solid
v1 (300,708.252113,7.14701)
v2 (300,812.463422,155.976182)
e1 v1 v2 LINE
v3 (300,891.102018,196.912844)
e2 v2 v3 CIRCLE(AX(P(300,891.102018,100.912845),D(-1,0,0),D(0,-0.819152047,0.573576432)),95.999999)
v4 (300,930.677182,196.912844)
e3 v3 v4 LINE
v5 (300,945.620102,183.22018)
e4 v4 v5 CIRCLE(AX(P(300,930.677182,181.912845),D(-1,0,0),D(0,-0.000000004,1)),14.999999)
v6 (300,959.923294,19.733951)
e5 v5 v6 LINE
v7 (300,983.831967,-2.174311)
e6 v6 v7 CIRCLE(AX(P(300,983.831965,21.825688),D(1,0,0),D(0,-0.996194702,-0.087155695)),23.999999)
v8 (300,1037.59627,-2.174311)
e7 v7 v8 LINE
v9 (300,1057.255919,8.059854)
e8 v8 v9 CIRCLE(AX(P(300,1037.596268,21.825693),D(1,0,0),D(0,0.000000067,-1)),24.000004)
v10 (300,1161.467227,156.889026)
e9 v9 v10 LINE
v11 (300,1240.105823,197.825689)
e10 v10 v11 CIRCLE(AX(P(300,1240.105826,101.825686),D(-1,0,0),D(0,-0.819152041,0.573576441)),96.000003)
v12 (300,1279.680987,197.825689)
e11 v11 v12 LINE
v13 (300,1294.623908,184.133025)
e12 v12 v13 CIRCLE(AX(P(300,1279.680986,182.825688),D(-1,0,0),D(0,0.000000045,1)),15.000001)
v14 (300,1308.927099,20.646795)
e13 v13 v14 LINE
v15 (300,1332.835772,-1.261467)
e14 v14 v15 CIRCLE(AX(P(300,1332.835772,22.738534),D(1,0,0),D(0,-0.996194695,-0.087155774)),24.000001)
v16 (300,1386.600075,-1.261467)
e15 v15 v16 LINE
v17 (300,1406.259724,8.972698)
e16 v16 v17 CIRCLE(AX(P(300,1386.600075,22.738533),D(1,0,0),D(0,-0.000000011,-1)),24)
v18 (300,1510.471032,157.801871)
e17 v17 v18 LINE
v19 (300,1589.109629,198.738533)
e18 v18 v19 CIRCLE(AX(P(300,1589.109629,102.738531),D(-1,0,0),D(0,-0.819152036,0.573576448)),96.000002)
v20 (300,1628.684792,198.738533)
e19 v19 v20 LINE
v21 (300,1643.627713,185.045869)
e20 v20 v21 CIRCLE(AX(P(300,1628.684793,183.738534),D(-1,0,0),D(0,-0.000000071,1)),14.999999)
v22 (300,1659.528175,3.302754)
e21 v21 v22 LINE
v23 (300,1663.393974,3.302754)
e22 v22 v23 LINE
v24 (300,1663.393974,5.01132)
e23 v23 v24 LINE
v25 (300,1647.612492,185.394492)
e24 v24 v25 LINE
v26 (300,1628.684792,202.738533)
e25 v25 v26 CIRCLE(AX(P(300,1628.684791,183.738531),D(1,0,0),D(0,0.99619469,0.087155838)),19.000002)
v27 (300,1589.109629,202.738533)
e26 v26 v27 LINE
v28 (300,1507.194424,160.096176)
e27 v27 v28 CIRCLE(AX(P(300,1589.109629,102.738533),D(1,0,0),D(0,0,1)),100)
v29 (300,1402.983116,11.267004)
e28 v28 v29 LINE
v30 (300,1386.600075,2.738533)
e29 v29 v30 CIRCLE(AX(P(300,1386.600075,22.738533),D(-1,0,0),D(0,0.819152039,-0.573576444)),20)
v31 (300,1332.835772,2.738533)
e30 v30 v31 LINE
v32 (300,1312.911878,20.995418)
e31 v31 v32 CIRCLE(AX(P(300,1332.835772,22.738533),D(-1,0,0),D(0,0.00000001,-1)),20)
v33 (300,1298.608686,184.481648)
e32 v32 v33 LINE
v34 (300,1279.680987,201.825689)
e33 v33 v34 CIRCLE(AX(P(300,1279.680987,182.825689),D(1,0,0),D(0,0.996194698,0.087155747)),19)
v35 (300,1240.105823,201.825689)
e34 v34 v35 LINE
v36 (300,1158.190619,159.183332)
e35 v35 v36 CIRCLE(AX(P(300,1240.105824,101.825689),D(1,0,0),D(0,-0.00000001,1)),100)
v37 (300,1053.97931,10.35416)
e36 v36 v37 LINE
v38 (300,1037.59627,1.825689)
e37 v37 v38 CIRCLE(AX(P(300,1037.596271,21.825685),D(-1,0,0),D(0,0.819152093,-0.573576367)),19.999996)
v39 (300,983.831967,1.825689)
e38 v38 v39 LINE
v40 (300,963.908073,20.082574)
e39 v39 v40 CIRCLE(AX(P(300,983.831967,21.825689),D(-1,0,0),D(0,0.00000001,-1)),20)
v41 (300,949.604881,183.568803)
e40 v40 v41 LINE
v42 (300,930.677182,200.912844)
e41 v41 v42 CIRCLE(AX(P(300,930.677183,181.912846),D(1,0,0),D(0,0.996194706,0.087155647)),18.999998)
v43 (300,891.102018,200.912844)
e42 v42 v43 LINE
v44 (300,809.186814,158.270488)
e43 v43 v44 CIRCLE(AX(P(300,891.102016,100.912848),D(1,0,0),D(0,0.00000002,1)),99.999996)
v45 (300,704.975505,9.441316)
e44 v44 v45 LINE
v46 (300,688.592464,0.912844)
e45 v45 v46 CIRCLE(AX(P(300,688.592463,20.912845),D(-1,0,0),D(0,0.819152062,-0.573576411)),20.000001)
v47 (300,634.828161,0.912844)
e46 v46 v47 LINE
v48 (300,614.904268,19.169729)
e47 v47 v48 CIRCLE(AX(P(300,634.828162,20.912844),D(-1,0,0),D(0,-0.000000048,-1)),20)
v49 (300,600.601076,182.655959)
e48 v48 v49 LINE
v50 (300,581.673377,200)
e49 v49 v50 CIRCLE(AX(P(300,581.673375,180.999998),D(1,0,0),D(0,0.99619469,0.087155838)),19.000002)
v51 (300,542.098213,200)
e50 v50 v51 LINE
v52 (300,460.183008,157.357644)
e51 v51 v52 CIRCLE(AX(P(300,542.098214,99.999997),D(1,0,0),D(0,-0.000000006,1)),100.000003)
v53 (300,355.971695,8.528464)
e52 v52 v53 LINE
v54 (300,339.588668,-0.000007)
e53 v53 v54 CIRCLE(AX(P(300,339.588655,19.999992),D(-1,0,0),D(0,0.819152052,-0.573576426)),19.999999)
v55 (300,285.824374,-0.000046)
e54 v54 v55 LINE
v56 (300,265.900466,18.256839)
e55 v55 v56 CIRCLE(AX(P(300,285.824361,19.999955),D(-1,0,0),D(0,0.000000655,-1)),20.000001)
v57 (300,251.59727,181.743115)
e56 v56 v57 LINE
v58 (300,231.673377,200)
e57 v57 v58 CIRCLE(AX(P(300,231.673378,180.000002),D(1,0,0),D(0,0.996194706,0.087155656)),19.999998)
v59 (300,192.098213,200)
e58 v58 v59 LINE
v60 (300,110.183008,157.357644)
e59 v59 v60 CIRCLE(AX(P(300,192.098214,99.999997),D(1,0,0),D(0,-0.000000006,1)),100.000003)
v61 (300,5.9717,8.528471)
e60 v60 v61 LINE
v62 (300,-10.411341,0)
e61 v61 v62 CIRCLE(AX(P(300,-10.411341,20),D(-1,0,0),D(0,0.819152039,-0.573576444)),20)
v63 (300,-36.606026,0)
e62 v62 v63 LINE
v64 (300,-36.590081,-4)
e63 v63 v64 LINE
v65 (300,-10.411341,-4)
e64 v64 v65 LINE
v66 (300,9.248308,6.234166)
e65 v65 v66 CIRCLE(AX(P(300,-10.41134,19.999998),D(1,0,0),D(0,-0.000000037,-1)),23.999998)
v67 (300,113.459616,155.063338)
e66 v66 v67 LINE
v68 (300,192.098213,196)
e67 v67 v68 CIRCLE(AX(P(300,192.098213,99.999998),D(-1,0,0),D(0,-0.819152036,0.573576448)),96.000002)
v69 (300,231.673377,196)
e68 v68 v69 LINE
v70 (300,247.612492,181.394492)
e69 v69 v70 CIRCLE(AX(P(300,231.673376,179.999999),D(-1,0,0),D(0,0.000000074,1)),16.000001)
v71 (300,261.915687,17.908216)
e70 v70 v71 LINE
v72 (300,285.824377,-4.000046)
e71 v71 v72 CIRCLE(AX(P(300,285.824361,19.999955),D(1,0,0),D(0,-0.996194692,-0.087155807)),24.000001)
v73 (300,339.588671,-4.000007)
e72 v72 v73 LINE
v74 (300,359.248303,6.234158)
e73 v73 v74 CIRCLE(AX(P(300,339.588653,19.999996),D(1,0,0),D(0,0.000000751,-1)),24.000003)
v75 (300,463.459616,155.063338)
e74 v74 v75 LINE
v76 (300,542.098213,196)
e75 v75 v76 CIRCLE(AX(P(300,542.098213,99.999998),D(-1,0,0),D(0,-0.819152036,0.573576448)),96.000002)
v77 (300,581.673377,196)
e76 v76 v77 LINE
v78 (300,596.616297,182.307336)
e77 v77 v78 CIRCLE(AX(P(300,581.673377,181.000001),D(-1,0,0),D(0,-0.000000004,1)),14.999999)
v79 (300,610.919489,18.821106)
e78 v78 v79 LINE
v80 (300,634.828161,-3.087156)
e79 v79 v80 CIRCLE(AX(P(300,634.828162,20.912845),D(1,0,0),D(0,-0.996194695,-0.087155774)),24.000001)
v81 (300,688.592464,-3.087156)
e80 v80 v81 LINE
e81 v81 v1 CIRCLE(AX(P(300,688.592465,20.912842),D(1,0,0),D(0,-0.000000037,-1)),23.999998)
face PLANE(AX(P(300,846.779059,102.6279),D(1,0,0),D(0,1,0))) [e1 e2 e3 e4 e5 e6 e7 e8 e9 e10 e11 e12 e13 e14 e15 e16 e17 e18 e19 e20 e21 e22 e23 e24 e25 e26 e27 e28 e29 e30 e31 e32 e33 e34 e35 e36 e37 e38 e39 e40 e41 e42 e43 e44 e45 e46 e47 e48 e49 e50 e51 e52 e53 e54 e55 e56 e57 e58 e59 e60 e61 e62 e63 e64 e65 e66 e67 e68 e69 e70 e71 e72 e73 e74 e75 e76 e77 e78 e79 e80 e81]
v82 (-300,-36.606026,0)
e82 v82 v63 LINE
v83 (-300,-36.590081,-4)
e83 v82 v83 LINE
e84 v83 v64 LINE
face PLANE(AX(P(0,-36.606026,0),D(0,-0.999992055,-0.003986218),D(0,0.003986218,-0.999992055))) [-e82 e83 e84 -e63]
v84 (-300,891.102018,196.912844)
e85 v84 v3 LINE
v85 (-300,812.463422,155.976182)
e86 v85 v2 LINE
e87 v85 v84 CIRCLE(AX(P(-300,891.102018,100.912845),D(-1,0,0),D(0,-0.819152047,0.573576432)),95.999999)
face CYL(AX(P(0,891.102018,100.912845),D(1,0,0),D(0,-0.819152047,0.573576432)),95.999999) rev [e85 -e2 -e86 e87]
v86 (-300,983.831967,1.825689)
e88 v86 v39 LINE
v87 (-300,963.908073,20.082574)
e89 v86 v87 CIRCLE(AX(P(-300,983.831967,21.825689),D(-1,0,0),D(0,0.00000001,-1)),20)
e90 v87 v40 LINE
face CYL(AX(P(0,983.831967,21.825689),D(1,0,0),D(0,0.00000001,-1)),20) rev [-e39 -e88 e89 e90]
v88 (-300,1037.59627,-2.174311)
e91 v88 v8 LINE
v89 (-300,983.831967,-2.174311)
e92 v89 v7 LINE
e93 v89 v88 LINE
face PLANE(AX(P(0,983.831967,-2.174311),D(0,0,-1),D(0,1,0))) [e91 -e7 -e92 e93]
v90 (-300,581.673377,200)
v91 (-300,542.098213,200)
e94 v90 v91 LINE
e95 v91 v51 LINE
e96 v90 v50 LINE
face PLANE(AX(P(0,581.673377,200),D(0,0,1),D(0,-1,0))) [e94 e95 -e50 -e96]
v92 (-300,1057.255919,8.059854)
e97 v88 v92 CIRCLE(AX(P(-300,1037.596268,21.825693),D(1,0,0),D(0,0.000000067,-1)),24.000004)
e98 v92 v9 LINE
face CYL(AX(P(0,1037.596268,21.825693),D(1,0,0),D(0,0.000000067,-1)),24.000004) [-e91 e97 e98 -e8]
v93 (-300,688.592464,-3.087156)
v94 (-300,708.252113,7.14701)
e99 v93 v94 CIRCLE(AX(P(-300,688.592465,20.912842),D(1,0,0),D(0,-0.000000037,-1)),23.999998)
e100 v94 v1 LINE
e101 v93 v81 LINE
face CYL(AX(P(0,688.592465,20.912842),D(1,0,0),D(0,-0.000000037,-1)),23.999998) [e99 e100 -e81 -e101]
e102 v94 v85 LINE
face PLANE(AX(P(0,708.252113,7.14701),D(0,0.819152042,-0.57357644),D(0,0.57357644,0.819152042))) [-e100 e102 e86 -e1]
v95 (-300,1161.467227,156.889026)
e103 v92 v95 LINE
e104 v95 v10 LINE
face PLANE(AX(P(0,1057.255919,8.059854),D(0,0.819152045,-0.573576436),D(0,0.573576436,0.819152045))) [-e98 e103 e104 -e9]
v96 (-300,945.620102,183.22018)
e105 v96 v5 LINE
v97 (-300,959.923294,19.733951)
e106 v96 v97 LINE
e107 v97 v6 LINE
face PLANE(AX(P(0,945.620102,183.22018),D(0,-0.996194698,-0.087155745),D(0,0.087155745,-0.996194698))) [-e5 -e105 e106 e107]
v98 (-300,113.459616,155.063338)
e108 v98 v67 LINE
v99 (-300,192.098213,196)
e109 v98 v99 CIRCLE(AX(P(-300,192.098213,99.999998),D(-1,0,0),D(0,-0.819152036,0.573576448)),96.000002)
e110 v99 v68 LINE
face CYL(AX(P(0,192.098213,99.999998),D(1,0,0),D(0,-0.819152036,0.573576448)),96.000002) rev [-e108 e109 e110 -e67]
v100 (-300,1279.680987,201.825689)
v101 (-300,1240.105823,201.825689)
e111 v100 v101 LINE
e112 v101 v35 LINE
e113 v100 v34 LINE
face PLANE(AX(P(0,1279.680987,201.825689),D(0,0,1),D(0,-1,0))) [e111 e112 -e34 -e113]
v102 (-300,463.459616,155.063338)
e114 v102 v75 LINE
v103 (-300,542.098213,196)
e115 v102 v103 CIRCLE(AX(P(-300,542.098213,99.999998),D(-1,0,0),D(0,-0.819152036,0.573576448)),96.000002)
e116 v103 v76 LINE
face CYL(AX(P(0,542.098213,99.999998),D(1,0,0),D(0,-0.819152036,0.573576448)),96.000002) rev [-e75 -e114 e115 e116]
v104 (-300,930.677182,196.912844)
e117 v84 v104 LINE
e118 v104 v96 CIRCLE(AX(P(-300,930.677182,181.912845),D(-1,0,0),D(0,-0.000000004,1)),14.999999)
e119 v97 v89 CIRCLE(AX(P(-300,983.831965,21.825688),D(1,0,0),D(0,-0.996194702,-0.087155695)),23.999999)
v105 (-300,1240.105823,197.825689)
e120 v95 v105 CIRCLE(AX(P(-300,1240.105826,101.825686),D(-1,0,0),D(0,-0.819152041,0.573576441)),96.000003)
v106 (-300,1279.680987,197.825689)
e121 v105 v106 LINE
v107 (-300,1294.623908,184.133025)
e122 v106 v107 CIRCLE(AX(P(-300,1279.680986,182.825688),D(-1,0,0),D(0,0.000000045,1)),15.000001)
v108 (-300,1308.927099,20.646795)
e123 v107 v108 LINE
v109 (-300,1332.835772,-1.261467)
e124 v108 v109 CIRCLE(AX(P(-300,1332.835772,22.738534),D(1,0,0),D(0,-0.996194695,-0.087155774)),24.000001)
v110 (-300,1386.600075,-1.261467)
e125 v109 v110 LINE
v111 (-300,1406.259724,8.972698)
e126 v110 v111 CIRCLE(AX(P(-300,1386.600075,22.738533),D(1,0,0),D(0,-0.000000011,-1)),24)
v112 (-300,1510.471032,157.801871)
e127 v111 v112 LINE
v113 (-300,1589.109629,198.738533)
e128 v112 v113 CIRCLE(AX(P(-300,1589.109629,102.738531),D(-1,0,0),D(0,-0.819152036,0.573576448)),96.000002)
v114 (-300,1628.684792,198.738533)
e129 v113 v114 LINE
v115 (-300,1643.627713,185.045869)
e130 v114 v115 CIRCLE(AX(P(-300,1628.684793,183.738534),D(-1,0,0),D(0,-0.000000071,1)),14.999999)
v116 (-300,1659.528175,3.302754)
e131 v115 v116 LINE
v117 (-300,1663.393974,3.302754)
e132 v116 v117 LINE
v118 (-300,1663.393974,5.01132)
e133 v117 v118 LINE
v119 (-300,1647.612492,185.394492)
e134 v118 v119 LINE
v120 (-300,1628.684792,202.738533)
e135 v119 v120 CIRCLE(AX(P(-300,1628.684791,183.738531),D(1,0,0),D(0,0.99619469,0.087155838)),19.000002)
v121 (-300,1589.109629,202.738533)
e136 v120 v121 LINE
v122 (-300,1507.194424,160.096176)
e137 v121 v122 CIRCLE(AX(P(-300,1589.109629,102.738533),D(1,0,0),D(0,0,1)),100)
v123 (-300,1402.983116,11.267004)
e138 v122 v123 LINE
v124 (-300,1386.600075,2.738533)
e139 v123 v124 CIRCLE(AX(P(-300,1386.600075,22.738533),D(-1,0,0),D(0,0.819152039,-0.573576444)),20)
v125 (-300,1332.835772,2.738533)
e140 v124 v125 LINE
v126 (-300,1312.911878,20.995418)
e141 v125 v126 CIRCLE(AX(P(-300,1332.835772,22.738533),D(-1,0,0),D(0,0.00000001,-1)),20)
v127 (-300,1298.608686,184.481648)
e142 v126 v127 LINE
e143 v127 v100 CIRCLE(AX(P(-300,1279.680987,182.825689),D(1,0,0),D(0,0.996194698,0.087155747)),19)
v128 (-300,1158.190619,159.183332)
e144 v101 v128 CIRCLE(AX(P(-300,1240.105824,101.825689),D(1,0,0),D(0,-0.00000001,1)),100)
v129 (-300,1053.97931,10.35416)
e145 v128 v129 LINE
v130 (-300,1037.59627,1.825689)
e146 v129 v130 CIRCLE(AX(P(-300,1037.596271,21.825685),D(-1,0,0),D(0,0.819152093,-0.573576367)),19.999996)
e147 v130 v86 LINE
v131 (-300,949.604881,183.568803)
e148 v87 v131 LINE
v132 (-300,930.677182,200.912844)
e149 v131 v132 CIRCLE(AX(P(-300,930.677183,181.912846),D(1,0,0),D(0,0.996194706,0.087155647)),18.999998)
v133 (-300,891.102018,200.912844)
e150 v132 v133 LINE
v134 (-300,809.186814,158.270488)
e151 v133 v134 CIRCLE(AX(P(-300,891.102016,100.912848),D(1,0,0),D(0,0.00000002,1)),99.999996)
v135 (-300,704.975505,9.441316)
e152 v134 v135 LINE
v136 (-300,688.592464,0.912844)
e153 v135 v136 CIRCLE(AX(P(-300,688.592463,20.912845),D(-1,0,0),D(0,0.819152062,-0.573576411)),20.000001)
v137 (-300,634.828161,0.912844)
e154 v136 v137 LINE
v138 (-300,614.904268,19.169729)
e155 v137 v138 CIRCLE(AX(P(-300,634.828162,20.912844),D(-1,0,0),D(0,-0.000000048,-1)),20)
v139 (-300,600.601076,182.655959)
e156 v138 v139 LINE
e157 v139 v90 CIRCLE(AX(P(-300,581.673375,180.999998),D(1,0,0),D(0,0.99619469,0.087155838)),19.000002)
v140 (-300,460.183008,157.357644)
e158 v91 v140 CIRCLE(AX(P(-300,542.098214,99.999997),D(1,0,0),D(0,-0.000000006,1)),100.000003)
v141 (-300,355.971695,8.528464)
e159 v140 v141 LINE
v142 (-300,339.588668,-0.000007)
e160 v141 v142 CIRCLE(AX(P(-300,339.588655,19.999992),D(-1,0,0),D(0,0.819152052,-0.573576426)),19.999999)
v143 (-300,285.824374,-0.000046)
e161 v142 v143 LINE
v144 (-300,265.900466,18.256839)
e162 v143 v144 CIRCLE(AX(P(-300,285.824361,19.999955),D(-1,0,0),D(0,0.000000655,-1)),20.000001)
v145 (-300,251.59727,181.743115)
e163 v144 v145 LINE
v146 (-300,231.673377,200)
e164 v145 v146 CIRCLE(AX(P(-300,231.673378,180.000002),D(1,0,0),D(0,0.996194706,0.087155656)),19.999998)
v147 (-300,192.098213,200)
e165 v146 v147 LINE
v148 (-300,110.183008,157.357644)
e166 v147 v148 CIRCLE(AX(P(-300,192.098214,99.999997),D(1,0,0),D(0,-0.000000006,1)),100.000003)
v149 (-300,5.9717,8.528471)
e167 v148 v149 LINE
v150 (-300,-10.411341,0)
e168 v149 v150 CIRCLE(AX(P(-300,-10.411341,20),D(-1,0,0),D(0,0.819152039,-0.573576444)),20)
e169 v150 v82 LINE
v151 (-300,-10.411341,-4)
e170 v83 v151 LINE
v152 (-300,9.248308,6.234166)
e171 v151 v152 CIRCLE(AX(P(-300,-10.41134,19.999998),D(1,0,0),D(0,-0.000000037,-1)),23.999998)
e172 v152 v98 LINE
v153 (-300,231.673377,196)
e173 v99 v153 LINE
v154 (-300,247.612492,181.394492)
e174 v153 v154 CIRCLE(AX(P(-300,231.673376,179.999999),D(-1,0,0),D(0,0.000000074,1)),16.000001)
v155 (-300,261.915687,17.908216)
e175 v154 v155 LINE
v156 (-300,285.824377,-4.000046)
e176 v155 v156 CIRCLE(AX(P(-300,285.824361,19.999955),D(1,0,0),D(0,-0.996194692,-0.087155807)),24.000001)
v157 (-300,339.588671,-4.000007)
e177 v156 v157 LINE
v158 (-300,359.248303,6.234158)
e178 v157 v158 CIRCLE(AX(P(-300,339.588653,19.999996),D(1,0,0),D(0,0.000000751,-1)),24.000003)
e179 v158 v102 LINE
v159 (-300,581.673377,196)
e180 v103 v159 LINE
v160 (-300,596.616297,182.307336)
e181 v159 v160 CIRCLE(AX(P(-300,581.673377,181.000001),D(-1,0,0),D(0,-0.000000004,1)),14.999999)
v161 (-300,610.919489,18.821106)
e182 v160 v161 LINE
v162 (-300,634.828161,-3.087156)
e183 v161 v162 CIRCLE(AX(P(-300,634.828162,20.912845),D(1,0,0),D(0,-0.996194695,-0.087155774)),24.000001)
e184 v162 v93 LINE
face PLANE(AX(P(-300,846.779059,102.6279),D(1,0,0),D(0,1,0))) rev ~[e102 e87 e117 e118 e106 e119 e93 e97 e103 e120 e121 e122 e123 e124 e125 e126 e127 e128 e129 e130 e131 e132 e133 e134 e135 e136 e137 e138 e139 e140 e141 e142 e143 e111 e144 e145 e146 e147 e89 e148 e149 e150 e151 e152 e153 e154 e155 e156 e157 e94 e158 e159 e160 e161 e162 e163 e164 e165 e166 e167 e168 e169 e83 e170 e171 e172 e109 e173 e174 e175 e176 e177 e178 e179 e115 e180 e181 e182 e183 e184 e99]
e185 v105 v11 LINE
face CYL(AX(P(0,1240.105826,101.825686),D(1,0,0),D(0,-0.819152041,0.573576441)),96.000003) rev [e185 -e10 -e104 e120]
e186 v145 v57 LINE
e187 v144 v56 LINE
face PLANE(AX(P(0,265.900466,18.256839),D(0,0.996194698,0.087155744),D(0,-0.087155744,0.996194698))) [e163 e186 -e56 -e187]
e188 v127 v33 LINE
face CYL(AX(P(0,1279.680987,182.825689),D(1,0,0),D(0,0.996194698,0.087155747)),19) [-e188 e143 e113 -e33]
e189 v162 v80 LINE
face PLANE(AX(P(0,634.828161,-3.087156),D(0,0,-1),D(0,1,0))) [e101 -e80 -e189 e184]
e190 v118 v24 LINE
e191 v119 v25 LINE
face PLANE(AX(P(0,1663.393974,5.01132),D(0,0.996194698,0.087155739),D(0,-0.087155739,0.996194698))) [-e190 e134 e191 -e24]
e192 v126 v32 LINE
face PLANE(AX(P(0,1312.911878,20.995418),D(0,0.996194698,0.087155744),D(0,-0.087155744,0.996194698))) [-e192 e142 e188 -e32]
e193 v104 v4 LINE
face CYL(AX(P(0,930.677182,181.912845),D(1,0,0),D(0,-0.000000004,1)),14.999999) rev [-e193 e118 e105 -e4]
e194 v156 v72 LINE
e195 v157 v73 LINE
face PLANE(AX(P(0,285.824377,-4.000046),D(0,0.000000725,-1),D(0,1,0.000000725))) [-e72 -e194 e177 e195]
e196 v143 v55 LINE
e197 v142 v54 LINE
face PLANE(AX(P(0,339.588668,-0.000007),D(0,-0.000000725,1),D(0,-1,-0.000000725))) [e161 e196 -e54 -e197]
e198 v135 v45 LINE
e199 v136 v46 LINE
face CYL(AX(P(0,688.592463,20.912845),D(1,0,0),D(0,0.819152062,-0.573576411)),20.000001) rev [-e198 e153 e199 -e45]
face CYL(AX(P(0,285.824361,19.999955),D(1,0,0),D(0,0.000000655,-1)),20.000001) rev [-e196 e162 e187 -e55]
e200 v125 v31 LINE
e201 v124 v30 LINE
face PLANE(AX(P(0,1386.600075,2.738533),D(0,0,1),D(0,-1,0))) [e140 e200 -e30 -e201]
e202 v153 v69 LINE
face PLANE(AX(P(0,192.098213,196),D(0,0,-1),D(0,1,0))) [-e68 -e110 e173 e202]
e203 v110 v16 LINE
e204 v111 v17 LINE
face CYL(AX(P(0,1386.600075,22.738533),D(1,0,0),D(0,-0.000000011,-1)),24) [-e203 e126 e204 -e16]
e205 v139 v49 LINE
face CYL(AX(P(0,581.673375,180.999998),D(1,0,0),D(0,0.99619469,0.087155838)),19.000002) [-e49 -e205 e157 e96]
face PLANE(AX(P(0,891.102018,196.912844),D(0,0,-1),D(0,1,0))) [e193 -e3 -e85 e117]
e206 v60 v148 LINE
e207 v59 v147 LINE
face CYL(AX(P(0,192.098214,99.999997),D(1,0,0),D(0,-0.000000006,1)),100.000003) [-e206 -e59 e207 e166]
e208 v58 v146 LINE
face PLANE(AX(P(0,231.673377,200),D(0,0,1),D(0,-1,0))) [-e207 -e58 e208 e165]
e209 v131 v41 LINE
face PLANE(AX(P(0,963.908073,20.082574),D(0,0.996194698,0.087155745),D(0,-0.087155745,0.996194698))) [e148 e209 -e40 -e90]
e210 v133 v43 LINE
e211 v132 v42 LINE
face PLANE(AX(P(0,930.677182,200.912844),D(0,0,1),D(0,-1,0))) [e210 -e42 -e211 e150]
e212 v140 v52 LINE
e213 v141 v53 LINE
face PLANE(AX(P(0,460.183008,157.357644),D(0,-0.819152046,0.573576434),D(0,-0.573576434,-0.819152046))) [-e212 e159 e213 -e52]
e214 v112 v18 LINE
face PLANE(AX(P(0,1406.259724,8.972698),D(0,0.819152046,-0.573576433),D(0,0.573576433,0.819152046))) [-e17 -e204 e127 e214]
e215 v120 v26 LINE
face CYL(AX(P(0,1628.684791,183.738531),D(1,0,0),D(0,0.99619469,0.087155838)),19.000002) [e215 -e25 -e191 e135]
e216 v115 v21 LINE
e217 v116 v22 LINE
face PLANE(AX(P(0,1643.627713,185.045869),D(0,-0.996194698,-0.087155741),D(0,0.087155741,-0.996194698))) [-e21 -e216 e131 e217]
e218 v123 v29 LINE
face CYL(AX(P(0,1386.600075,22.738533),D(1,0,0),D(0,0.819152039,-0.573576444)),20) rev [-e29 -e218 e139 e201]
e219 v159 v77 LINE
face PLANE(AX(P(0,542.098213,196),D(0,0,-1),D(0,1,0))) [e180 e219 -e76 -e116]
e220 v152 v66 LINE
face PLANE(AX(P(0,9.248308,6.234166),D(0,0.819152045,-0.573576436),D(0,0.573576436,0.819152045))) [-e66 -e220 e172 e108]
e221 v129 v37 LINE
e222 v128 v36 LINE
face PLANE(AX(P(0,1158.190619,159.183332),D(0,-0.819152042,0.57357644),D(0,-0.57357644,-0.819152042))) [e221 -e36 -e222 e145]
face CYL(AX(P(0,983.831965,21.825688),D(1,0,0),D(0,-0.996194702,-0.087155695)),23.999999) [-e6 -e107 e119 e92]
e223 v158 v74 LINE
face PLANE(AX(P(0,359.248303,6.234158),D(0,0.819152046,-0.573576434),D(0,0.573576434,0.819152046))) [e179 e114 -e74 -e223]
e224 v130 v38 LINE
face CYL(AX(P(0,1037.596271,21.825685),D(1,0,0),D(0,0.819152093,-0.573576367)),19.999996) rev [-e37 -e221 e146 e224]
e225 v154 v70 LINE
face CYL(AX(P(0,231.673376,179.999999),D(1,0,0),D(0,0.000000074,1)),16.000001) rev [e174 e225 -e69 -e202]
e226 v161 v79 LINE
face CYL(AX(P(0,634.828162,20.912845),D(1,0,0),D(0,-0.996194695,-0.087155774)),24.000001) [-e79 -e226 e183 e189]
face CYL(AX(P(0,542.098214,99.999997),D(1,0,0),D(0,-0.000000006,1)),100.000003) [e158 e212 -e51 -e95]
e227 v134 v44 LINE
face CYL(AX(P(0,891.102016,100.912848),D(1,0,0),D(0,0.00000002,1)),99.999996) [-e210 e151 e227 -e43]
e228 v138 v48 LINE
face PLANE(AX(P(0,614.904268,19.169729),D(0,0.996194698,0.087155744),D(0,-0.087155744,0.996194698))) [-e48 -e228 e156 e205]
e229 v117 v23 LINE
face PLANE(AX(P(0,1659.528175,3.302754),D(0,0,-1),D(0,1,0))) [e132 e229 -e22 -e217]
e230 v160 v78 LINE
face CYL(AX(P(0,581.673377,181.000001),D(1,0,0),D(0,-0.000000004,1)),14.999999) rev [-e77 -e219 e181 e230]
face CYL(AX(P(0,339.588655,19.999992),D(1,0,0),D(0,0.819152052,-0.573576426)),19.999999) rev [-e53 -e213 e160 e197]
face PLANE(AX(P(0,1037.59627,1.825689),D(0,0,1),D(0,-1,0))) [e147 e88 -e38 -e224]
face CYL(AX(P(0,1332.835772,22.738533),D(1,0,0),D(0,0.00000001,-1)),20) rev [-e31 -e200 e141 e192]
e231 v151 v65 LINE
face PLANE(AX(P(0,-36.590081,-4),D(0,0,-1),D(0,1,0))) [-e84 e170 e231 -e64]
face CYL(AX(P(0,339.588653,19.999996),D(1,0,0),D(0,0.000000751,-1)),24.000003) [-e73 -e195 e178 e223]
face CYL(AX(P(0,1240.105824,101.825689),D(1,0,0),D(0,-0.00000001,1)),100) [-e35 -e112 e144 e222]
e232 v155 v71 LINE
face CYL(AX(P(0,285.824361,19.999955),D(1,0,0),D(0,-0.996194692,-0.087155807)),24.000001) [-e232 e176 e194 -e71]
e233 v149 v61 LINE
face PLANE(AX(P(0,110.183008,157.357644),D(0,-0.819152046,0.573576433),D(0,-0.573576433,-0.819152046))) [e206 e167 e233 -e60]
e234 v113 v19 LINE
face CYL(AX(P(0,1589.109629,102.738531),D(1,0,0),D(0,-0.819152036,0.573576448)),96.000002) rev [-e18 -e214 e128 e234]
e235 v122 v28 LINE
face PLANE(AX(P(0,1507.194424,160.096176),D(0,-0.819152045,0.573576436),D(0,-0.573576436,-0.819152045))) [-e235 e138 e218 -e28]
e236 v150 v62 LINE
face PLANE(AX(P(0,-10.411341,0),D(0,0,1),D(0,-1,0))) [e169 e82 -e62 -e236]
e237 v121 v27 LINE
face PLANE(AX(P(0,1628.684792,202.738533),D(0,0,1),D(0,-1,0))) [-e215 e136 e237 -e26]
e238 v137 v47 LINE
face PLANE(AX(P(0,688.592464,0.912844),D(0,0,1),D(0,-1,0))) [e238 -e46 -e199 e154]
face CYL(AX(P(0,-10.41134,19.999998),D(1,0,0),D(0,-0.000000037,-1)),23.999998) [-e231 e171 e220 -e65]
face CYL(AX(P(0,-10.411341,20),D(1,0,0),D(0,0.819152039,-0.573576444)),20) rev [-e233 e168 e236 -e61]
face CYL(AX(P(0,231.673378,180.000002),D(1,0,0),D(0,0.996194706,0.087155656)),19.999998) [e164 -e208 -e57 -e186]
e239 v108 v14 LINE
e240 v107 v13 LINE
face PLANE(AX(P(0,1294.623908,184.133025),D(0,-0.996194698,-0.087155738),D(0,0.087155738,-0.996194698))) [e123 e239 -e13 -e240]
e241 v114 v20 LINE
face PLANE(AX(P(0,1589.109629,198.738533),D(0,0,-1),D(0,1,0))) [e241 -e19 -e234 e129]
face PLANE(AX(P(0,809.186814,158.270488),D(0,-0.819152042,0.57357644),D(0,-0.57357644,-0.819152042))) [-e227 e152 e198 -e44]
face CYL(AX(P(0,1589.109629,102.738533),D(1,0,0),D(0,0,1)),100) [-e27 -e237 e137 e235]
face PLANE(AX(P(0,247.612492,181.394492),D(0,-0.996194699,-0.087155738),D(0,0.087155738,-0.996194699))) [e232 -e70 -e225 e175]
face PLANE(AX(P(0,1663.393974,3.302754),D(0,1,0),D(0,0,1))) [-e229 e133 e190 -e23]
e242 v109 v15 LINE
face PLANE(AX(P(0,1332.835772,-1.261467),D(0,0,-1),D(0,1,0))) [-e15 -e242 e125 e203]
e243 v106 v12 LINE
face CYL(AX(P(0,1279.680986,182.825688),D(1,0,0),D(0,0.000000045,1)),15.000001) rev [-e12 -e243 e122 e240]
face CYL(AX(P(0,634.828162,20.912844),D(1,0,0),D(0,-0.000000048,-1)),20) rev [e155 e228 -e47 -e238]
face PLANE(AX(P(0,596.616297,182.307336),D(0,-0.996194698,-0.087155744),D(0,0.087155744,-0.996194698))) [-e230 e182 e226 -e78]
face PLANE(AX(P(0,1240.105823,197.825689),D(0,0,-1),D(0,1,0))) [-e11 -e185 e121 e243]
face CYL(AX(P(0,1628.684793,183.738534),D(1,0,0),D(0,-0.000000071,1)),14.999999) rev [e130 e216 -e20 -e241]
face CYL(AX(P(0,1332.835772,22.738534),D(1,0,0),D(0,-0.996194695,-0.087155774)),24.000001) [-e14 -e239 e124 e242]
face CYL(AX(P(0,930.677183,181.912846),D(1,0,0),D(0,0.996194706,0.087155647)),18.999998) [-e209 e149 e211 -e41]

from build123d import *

# Parameters (mm, degrees)
F1_DEPTH      = 300
F1_DEPTH_BACK = 300


with BuildPart() as f1:
    # F0 (on Right) → F1 (new body, two sides)
    with BuildSketch(Plane.YZ) as f1_sk:
        with BuildLine():
            Line((110.183008, 157.357644), (5.9717, 8.528471))
            ThreePointArc((5.9717, 8.528471), (-1.176369, 2.259783), (-10.411341, 0))
            Line((-10.411341, 0), (-36.606026, 0))
            Line((-36.606026, 0), (-36.590081, -4))
            Line((-36.590081, -4), (-10.411341, -4))
            ThreePointArc((-10.411341, -4), (0.670626, -1.28826), (9.248308, 6.234166))
            Line((9.248308, 6.234166), (113.459616, 155.063338))
            ThreePointArc((113.459616, 155.063338), (147.770346, 185.15304), (192.098213, 196))
            Line((192.098213, 196), (231.673377, 196))
            ThreePointArc((231.673377, 196), (242.48282, 191.796437), (247.612492, 181.394492))
            Line((247.612492, 181.394492), (261.915687, 17.908216))
            ThreePointArc((261.915687, 17.908216), (269.610202, 2.305292), (285.824377, -4.000046))
            Line((285.824377, -4.000046), (339.588671, -4.000007))
            ThreePointArc((339.588671, -4.000007), (350.670628, -1.288263), (359.248303, 6.234158))
            Line((359.248303, 6.234158), (463.459616, 155.063338))
            ThreePointArc((463.459616, 155.063338), (497.770346, 185.15304), (542.098213, 196))
            Line((542.098213, 196), (581.673377, 196))
            ThreePointArc((581.673377, 196), (591.80723, 192.05916), (596.616297, 182.307336))
            Line((596.616297, 182.307336), (610.919489, 18.821106))
            ThreePointArc((610.919489, 18.821106), (618.613997, 3.218188), (634.828161, -3.087156))
            Line((634.828161, -3.087156), (688.592464, -3.087156))
            ThreePointArc((688.592464, -3.087156), (699.674431, -0.375416), (708.252113, 7.14701))
            Line((708.252113, 7.14701), (812.463422, 155.976182))
            ThreePointArc((812.463422, 155.976182), (846.774151, 186.065884), (891.102018, 196.912844))
            Line((891.102018, 196.912844), (930.677182, 196.912844))
            ThreePointArc((930.677182, 196.912844), (940.811035, 192.972004), (945.620102, 183.22018))
            Line((945.620102, 183.22018), (959.923294, 19.733951))
            ThreePointArc((959.923294, 19.733951), (967.617802, 4.131032), (983.831967, -2.174311))
            Line((983.831967, -2.174311), (1037.59627, -2.174311))
            ThreePointArc((1037.59627, -2.174311), (1048.678236, 0.537429), (1057.255919, 8.059854))
            Line((1057.255919, 8.059854), (1161.467227, 156.889026))
            ThreePointArc((1161.467227, 156.889026), (1195.777956, 186.978728), (1240.105823, 197.825689))
            Line((1240.105823, 197.825689), (1279.680987, 197.825689))
            ThreePointArc((1279.680987, 197.825689), (1289.81484, 193.884849), (1294.623908, 184.133025))
            Line((1294.623908, 184.133025), (1308.927099, 20.646795))
            ThreePointArc((1308.927099, 20.646795), (1316.621607, 5.043877), (1332.835772, -1.261467))
            Line((1332.835772, -1.261467), (1386.600075, -1.261467))
            ThreePointArc((1386.600075, -1.261467), (1397.682042, 1.450273), (1406.259724, 8.972698))
            Line((1406.259724, 8.972698), (1510.471032, 157.801871))
            ThreePointArc((1510.471032, 157.801871), (1544.781762, 187.891573), (1589.109629, 198.738533))
            Line((1589.109629, 198.738533), (1628.684792, 198.738533))
            ThreePointArc((1628.684792, 198.738533), (1638.818646, 194.797693), (1643.627713, 185.045869))
            Line((1643.627713, 185.045869), (1659.528175, 3.302754))
            Line((1659.528175, 3.302754), (1663.393974, 3.302754))
            Line((1663.393974, 3.302754), (1663.393974, 5.01132))
            Line((1663.393974, 5.01132), (1647.612492, 185.394492))
            ThreePointArc((1647.612492, 185.394492), (1641.521006, 197.746802), (1628.684792, 202.738533))
            Line((1628.684792, 202.738533), (1589.109629, 202.738533))
            ThreePointArc((1589.109629, 202.738533), (1542.934767, 191.439616), (1507.194424, 160.096176))
            Line((1507.194424, 160.096176), (1402.983116, 11.267004))
            ThreePointArc((1402.983116, 11.267004), (1395.835047, 4.998316), (1386.600075, 2.738533))
            Line((1386.600075, 2.738533), (1332.835772, 2.738533))
            ThreePointArc((1332.835772, 2.738533), (1319.323968, 7.992986), (1312.911878, 20.995418))
            Line((1312.911878, 20.995418), (1298.608686, 184.481648))
            ThreePointArc((1298.608686, 184.481648), (1292.517201, 196.833958), (1279.680987, 201.825689))
            Line((1279.680987, 201.825689), (1240.105823, 201.825689))
            ThreePointArc((1240.105823, 201.825689), (1193.930962, 190.526772), (1158.190619, 159.183332))
            Line((1158.190619, 159.183332), (1053.97931, 10.35416))
            ThreePointArc((1053.97931, 10.35416), (1046.831242, 4.085472), (1037.59627, 1.825689))
            Line((1037.59627, 1.825689), (983.831967, 1.825689))
            ThreePointArc((983.831967, 1.825689), (970.320163, 7.080142), (963.908073, 20.082574))
            Line((963.908073, 20.082574), (949.604881, 183.568803))
            ThreePointArc((949.604881, 183.568803), (943.513396, 195.921114), (930.677182, 200.912844))
            Line((930.677182, 200.912844), (891.102018, 200.912844))
            ThreePointArc((891.102018, 200.912844), (844.927157, 189.613928), (809.186814, 158.270488))
            Line((809.186814, 158.270488), (704.975505, 9.441316))
            ThreePointArc((704.975505, 9.441316), (697.827437, 3.172628), (688.592464, 0.912844))
            Line((688.592464, 0.912844), (634.828161, 0.912844))
            ThreePointArc((634.828161, 0.912844), (621.316357, 6.167298), (614.904268, 19.169729))
            Line((614.904268, 19.169729), (600.601076, 182.655959))
            ThreePointArc((600.601076, 182.655959), (594.50959, 195.008269), (581.673377, 200))
            Line((581.673377, 200), (542.098213, 200))
            ThreePointArc((542.098213, 200), (495.923351, 188.701083), (460.183008, 157.357644))
            Line((460.183008, 157.357644), (355.971695, 8.528464))
            ThreePointArc((355.971695, 8.528464), (348.823632, 2.259779), (339.588668, -7e-06))
            Line((339.588668, -7e-06), (285.824374, -4.6e-05))
            ThreePointArc((285.824374, -4.6e-05), (272.312561, 5.254403), (265.900466, 18.256839))
            Line((265.900466, 18.256839), (251.59727, 181.743115))
            ThreePointArc((251.59727, 181.743115), (245.185181, 194.745547), (231.673377, 200))
            Line((231.673377, 200), (192.098213, 200))
            ThreePointArc((192.098213, 200), (145.923351, 188.701083), (110.183008, 157.357644))
        make_face()
    extrude(amount=F1_DEPTH)
    extrude(f1_sk.sketch, amount=-F1_DEPTH_BACK)


solid = f1.part
